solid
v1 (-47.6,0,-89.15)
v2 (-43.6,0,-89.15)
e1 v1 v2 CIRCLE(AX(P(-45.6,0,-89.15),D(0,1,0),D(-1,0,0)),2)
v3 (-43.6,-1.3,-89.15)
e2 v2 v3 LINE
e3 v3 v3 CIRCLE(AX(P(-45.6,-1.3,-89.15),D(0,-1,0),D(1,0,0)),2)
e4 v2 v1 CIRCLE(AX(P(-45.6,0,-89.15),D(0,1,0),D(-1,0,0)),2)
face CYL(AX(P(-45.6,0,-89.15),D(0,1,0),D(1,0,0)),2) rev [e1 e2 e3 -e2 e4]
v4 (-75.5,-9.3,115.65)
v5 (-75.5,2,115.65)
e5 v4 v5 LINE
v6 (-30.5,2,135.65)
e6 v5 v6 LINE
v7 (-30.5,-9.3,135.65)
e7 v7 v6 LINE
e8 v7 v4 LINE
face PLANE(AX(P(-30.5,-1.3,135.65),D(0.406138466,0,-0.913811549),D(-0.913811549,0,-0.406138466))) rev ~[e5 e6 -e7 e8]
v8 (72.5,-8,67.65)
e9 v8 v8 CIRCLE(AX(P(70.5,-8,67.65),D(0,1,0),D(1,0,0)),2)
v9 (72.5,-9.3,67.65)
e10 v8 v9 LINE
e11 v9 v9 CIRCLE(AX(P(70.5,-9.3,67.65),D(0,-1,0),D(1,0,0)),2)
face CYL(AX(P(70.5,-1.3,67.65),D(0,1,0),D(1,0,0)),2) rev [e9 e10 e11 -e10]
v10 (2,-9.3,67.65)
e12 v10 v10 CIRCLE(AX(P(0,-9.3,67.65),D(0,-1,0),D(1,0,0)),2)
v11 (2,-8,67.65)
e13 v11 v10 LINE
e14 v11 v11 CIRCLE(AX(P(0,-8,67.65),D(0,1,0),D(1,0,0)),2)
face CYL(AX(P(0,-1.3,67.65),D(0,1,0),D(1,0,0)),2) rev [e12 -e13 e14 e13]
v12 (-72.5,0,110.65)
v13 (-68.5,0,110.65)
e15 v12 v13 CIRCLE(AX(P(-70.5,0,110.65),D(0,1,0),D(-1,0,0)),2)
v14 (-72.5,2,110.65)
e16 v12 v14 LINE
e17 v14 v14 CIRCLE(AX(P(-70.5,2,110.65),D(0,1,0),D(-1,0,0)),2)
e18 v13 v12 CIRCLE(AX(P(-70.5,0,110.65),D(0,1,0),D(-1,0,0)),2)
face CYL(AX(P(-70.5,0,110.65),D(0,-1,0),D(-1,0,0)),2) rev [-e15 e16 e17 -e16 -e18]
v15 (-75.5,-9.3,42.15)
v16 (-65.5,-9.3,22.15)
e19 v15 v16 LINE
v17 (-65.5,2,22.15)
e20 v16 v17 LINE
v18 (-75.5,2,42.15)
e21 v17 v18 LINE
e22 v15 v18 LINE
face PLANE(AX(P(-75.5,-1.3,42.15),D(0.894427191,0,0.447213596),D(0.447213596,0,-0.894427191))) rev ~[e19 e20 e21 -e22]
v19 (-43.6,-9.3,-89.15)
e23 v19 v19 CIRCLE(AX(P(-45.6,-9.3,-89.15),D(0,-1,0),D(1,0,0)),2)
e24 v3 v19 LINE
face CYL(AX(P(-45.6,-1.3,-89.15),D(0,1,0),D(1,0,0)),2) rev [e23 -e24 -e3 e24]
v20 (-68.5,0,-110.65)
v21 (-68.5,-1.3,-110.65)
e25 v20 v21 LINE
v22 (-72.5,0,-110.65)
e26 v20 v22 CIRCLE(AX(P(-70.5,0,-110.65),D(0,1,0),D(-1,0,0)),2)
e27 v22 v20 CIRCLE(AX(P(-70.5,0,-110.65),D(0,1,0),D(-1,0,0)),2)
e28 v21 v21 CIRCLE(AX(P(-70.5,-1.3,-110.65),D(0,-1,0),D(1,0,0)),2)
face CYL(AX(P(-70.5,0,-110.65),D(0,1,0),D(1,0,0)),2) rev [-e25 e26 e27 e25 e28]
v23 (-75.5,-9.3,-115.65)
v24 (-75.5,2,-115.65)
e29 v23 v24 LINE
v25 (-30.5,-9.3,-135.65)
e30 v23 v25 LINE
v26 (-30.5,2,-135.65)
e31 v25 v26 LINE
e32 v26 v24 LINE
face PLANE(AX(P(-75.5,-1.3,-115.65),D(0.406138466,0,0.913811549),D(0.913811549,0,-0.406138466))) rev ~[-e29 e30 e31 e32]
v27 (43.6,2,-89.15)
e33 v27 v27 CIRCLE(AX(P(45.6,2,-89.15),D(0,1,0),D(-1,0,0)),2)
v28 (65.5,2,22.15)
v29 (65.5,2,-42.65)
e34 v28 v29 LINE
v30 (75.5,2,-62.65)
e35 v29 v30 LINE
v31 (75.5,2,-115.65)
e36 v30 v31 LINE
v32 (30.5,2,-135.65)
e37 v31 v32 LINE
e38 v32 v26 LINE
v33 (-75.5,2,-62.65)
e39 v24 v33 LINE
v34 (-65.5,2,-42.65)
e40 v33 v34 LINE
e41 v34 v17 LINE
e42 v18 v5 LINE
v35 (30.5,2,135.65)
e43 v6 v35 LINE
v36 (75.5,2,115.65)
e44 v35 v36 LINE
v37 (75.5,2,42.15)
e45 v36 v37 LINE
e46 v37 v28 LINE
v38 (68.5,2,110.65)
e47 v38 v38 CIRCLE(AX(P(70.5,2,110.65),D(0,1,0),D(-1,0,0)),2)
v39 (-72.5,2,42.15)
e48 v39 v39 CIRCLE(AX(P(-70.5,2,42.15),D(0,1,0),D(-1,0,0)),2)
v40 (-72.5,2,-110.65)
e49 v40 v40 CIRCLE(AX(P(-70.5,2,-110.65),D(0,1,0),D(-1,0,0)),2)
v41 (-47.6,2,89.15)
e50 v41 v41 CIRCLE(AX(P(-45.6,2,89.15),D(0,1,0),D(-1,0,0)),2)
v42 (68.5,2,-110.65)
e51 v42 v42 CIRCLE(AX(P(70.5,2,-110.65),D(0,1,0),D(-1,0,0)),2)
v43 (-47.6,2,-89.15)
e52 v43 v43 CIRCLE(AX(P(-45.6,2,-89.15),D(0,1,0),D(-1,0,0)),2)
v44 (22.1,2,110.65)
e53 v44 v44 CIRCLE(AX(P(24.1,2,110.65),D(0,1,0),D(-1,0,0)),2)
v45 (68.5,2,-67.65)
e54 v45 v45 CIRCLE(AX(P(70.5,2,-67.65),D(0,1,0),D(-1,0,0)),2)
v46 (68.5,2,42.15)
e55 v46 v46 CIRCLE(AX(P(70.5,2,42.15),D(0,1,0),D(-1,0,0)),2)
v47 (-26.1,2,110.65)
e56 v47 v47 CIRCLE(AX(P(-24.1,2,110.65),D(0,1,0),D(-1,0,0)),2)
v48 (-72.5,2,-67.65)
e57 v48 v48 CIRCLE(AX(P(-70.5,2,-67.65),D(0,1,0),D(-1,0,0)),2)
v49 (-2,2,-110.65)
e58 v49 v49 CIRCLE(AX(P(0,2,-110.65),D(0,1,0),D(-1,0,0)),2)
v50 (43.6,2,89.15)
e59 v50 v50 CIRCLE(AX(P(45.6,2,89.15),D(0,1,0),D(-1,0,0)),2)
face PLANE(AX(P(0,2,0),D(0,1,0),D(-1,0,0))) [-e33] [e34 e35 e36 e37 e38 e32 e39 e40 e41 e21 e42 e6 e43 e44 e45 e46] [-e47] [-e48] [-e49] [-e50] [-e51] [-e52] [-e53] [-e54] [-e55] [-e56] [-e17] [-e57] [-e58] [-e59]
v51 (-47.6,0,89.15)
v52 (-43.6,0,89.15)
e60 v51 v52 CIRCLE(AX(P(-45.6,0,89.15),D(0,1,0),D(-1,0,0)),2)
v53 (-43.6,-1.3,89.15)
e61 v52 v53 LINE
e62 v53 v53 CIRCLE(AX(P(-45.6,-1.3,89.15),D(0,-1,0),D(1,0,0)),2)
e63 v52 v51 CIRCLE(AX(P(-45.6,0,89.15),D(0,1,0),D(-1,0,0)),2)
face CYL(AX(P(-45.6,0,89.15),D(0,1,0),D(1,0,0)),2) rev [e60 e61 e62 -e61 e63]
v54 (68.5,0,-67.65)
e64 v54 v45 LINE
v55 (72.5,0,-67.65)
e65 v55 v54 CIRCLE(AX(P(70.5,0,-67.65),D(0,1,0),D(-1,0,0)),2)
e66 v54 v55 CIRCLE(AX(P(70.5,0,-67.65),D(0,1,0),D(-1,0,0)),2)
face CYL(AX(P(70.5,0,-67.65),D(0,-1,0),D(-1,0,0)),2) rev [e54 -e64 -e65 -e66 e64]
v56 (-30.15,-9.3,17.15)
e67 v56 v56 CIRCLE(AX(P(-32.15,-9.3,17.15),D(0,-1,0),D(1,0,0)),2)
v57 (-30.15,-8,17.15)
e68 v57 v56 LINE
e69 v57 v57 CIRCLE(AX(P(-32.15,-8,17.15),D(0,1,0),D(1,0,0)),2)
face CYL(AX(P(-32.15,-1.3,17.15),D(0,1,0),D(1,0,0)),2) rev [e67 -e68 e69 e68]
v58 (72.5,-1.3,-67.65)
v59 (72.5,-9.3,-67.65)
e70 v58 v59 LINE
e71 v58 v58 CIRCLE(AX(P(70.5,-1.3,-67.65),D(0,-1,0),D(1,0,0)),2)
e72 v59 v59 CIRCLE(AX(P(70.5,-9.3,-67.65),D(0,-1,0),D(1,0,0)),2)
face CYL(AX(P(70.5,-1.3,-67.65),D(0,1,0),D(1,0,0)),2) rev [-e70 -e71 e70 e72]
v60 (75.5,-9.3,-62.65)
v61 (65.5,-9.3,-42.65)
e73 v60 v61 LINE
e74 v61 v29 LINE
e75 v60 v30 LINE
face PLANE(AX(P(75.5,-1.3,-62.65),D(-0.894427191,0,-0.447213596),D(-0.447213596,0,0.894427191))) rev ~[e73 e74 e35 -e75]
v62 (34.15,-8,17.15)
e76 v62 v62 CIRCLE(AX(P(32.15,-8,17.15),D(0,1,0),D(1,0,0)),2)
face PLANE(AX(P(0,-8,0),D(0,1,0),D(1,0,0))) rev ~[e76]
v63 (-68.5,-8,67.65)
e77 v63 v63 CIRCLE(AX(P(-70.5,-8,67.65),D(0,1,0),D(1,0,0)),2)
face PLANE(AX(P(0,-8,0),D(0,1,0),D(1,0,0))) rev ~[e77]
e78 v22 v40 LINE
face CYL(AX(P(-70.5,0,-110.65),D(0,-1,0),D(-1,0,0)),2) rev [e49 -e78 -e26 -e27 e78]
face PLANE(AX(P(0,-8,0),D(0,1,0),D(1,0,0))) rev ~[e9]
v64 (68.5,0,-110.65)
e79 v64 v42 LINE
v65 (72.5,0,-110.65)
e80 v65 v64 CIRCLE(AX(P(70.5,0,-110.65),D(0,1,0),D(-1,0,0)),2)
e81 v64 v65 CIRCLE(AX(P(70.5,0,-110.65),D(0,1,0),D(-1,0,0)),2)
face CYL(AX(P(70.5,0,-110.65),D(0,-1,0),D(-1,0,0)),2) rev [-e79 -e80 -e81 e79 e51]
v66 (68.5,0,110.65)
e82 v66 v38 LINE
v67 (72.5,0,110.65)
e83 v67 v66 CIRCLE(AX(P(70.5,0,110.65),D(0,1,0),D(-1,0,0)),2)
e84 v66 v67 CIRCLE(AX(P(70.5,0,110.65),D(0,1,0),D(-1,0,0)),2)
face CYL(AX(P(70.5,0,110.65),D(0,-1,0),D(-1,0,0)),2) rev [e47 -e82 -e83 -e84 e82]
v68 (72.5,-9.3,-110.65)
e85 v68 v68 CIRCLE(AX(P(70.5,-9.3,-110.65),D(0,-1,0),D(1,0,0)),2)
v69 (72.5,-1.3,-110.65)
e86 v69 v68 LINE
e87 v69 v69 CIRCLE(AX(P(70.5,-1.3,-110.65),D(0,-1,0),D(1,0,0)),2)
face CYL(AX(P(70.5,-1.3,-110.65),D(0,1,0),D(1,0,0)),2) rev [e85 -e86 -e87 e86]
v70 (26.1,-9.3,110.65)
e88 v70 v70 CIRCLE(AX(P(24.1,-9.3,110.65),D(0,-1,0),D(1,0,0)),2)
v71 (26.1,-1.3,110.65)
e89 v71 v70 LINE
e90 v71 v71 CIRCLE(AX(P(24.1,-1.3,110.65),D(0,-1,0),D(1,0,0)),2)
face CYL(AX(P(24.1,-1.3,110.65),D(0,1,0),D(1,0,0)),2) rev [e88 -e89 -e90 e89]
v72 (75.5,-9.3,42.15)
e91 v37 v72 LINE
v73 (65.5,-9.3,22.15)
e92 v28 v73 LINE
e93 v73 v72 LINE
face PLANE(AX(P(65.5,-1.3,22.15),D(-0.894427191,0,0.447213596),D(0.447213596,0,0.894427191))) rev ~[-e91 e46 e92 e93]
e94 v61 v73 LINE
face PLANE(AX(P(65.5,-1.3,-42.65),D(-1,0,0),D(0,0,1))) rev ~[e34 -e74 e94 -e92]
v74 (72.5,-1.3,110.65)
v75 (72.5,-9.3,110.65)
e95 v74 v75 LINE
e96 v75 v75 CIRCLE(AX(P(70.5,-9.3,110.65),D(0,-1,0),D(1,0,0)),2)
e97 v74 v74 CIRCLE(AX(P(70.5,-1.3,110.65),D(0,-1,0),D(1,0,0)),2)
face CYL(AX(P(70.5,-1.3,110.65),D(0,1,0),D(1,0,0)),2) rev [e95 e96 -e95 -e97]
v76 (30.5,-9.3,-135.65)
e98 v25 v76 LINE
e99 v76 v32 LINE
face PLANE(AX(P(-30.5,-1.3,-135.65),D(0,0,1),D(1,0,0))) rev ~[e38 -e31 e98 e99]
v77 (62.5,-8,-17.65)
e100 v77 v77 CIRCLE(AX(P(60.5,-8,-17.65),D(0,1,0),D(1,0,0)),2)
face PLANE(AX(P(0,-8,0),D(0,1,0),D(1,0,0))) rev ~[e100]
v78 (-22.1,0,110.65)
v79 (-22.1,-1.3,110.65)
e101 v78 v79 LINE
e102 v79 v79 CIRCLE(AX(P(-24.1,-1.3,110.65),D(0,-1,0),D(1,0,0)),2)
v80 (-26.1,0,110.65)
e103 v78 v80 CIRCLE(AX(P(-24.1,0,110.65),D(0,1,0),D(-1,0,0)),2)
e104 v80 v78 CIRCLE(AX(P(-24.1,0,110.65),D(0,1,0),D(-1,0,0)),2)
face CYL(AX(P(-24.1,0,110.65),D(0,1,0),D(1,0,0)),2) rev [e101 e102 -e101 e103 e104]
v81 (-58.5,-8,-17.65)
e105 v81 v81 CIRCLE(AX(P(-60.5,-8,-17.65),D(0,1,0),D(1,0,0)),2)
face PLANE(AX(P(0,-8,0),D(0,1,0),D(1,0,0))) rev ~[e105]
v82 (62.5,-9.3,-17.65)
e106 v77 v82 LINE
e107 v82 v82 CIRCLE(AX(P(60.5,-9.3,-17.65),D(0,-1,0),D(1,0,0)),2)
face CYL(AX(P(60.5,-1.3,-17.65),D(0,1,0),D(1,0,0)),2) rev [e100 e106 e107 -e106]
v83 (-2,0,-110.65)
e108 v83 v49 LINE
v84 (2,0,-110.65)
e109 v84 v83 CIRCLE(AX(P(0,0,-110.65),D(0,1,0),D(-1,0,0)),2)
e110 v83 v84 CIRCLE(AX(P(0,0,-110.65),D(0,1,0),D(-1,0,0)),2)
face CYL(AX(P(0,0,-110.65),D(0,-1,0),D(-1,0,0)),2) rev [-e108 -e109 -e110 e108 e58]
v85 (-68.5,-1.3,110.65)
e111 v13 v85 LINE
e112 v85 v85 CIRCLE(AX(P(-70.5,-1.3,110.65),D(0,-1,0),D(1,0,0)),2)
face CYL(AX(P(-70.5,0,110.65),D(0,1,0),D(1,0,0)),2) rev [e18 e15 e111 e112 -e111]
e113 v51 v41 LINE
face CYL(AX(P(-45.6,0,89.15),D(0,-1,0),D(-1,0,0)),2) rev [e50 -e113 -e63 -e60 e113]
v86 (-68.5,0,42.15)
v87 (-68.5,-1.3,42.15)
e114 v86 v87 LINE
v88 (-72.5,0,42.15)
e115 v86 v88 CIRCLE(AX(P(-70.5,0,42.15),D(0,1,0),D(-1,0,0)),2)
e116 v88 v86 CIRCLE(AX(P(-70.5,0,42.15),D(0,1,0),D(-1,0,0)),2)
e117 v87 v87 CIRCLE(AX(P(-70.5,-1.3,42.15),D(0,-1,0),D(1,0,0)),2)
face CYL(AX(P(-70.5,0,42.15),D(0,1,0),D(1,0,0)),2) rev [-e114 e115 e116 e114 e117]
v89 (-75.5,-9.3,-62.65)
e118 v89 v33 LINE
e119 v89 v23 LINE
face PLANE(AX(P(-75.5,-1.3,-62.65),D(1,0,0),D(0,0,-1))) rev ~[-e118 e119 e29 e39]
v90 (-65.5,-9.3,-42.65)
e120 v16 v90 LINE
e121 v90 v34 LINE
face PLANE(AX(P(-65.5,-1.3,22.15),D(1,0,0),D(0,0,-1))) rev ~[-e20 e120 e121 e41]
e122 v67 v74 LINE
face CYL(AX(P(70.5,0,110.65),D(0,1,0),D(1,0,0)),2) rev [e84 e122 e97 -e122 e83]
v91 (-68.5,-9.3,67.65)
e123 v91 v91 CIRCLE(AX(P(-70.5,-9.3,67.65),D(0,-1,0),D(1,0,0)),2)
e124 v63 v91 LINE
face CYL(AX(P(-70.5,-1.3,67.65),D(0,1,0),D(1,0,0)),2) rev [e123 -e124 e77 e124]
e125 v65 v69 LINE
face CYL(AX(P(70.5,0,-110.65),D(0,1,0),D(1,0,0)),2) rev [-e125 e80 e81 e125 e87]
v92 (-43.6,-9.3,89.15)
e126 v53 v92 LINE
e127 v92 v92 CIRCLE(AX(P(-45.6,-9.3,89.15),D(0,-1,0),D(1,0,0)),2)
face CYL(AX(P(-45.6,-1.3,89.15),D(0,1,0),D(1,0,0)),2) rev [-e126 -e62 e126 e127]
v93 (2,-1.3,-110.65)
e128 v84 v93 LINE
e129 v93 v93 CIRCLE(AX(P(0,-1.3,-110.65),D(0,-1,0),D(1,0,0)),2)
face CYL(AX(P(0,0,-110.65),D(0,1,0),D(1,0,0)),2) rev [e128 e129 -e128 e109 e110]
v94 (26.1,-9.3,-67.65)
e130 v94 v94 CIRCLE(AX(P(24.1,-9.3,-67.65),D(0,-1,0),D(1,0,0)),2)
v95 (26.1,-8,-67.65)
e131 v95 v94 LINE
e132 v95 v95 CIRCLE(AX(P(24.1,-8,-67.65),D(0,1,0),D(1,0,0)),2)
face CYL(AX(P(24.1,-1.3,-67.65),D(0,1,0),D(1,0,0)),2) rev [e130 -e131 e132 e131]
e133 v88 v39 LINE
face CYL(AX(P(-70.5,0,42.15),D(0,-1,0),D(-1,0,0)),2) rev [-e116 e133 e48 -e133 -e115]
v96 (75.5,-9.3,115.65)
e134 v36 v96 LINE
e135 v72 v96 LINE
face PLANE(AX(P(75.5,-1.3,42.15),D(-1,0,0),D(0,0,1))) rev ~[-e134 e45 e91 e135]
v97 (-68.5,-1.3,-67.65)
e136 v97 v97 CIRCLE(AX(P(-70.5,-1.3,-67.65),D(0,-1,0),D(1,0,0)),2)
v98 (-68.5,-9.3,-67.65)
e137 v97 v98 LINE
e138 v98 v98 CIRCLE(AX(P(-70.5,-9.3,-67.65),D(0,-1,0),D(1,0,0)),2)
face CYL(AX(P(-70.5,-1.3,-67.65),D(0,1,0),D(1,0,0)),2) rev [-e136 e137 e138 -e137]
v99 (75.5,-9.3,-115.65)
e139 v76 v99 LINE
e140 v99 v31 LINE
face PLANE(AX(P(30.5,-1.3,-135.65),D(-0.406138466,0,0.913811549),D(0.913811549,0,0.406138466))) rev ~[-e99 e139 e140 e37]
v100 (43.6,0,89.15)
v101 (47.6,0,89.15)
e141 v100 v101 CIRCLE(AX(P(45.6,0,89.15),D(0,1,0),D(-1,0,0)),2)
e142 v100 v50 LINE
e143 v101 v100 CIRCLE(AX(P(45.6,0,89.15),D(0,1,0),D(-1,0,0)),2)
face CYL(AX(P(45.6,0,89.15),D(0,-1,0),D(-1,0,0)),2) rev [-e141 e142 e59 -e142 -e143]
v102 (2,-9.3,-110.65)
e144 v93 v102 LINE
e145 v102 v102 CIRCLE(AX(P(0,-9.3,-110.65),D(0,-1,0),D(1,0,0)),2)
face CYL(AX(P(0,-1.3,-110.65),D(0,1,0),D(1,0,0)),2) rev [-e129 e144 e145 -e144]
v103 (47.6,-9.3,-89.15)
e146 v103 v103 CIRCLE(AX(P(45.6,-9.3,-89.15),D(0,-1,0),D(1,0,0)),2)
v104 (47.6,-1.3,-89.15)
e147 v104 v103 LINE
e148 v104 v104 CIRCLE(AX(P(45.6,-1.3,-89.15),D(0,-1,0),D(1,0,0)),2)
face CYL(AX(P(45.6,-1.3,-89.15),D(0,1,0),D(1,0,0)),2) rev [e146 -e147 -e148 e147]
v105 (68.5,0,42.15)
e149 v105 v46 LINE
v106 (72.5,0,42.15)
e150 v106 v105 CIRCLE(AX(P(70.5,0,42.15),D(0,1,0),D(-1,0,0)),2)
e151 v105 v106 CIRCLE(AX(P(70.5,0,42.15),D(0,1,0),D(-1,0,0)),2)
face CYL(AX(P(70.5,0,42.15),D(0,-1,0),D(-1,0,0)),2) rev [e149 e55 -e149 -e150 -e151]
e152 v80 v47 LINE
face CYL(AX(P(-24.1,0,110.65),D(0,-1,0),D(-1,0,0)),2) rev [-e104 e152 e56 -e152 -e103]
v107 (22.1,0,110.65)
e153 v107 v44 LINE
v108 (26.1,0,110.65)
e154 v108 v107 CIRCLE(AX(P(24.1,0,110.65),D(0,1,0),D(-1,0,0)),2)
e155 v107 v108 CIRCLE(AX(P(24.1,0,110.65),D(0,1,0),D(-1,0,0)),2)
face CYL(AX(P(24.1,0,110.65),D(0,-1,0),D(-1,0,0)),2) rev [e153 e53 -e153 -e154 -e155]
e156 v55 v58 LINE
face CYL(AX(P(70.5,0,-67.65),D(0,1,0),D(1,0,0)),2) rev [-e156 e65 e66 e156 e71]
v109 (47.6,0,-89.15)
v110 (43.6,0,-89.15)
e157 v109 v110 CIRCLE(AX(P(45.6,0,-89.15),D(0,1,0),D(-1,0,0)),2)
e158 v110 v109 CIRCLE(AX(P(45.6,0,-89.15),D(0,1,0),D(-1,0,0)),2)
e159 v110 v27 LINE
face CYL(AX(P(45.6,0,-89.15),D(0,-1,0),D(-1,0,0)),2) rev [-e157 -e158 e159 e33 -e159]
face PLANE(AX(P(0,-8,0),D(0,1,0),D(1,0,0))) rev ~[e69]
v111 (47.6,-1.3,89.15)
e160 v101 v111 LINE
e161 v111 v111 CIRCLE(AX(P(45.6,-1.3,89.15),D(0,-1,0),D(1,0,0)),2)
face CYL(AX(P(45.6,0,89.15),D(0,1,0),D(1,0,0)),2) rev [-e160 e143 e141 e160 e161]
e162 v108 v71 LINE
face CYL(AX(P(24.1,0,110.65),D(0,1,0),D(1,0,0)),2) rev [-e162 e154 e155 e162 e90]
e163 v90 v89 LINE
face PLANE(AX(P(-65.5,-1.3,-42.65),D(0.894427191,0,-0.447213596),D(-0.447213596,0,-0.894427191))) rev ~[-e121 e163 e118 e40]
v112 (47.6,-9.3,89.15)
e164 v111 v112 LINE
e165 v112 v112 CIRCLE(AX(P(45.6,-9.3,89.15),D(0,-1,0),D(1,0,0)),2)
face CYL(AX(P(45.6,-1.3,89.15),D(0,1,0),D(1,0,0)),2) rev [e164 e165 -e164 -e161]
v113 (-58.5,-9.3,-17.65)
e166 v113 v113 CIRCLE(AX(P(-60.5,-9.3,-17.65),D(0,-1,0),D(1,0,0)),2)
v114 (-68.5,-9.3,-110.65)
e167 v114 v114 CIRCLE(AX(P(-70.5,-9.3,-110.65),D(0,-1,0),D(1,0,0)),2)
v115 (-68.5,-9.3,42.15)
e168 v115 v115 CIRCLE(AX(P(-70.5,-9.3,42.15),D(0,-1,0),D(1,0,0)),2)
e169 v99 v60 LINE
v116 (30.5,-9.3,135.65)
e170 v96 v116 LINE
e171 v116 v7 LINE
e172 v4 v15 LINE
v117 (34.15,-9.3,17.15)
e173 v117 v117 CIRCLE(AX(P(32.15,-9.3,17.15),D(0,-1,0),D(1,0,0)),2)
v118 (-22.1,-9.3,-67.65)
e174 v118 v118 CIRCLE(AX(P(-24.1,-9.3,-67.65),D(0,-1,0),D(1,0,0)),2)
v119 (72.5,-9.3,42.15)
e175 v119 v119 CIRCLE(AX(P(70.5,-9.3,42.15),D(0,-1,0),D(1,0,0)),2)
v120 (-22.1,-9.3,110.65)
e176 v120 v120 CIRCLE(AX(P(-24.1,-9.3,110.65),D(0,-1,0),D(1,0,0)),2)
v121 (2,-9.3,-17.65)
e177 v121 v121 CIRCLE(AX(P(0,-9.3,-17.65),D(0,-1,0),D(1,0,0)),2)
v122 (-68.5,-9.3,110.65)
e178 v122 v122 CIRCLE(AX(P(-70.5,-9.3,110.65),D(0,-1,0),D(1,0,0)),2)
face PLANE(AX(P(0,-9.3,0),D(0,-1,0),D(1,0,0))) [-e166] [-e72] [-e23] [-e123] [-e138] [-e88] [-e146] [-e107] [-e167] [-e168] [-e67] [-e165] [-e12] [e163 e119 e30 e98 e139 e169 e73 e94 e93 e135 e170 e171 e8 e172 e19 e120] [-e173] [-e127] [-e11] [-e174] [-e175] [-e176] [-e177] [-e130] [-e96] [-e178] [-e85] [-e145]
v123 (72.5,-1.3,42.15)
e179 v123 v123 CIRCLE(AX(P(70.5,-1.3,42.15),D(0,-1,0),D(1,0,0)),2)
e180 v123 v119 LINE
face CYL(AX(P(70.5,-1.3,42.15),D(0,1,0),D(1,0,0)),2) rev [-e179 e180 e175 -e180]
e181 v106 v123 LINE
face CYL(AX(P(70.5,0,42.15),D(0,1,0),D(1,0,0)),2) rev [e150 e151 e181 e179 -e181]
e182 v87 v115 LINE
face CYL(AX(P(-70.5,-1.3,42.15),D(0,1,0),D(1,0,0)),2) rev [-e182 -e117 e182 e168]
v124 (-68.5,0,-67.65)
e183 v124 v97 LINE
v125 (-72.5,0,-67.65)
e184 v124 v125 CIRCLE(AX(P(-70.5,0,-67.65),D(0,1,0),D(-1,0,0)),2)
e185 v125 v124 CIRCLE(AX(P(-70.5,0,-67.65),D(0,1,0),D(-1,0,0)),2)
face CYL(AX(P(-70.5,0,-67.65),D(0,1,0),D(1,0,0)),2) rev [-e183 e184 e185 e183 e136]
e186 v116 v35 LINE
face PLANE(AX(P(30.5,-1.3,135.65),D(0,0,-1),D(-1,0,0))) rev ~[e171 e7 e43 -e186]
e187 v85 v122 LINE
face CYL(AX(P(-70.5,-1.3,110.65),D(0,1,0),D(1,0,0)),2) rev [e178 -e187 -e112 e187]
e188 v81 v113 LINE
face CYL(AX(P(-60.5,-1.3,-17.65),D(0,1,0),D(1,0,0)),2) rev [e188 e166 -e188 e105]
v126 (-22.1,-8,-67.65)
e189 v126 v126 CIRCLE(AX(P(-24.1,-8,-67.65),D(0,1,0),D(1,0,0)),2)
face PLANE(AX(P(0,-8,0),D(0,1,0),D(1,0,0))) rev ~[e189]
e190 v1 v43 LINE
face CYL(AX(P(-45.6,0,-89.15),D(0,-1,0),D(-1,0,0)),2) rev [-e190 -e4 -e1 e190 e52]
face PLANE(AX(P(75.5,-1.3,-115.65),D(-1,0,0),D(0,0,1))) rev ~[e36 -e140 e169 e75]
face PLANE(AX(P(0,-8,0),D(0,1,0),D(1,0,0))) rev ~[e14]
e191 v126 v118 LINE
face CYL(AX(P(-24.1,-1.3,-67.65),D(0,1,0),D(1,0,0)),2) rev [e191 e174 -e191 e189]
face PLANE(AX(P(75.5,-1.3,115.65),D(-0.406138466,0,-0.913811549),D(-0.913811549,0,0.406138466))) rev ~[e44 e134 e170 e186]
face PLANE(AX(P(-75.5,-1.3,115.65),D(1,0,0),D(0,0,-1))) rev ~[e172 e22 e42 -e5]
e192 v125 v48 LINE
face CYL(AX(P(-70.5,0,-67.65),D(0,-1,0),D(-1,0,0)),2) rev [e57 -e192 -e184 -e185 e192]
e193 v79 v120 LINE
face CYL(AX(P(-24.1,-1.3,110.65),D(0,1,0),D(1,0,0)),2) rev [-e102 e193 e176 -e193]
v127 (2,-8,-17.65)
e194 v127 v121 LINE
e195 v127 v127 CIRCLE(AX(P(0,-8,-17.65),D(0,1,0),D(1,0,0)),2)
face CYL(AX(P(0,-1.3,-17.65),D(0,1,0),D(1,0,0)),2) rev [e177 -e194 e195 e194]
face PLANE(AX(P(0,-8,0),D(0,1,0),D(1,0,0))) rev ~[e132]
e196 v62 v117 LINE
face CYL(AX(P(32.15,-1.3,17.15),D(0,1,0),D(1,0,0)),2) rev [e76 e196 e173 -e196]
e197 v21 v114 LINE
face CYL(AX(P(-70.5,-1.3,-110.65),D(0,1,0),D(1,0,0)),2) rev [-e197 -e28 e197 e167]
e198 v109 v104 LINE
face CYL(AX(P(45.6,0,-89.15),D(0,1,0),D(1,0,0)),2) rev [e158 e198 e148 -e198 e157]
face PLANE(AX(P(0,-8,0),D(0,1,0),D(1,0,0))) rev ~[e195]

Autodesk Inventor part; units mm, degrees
ref_plane "YZ Plane" through (0, 0, 0) normal (1, 0, 0) x (0, 1, 0)
ref_plane "XZ Plane" through (0, 0, 0) normal (0, 1, 0) x (-1, 0, 0)
ref_plane "XY Plane" through (0, 0, 0) normal (0, 0, 1) x (1, 0, 0)
sketch "Sketch1" plane through (0, 0, 0) normal (0, 1, 0) x (-1, 0, 0)
  circle A0 centre (24.1, 110.65) radius 0.25
  circle A1 centre (-70.5, 110.65) radius 0.25
  circle A2 centre (-45.6, 89.15) radius 0.25
  circle A3 centre (0, 67.65) radius 0.25
  circle A4 centre (70.5, 42.15) radius 0.25
  circle A5 centre (32.15, 17.15) radius 0.25
  circle A6 centre (60.5, -17.65) radius 0.25
  circle A7 centre (-60.5, -17.65) radius 0.25
  circle A8 centre (24.1, -67.65) radius 0.25
  circle A9 centre (-70.5, -67.65) radius 0.25
  circle A10 centre (-45.6, -89.15) radius 0.25
  circle A11 centre (0, -110.65) radius 0.25
  circle A12 centre (-70.5, -110.65) radius 0.25
  circle A13 centre (70.5, -110.65) radius 0.25
  circle A14 centre (45.6, -89.15) radius 0.25
  circle A15 centre (-24.1, -67.65) radius 0.25
  circle A16 centre (70.5, -67.65) radius 0.25
  circle A17 centre (0, -17.65) radius 0.25
  circle A18 centre (-32.15, 17.15) radius 0.25
  circle A19 centre (-70.5, 42.15) radius 0.25
  circle A20 centre (-70.5, 67.65) radius 0.25
  circle A21 centre (70.5, 67.65) radius 0.25
  circle A22 centre (45.6, 89.15) radius 0.25
  circle A23 centre (-24.1, 110.65) radius 0.25
  circle A24 centre (70.5, 110.65) radius 0.25
  line L0 (75.5, -115.65) -> (75.5, -62.65)
  line L1 (75.5, -62.65) -> (65.5, -42.65)
  line L2 (65.5, -42.65) -> (65.5, 22.15)
  line L3 (65.5, 22.15) -> (75.5, 42.15)
  line L4 (75.5, 42.15) -> (75.5, 115.65)
  line L5 (75.5, 115.65) -> (30.5, 135.65)
  line L6 (30.5, 135.65) -> (-30.5, 135.65)
  line L7 (-30.5, 135.65) -> (-75.5, 115.65)
  line L8 (-75.5, 115.65) -> (-75.5, 42.15)
  line L9 (-75.5, 42.15) -> (-65.5, 22.15)
  line L10 (-65.5, 22.15) -> (-65.5, -42.65)
  line L11 (-65.5, -42.65) -> (-75.5, -62.65)
  line L12 (-75.5, -62.65) -> (-75.5, -115.65)
  line L13 (-75.5, -115.65) -> (-30.5, -135.65)
  line L14 (-30.5, -135.65) -> (30.5, -135.65)
  line L15 (30.5, -135.65) -> (75.5, -115.65)
  circle A25 centre (0, -110.65) radius 2
  circle A26 centre (70.5, -110.65) radius 2
  circle A27 centre (-70.5, -110.65) radius 2
  circle A28 centre (45.6, -89.15) radius 2
  circle A29 centre (-45.6, -89.15) radius 2
  circle A30 centre (70.5, -67.65) radius 2
  circle A31 centre (24.1, -67.65) radius 2
  circle A32 centre (-24.1, -67.65) radius 2
  circle A33 centre (-70.5, -67.65) radius 2
  circle A34 centre (60.5, -17.65) radius 2
  circle A35 centre (0, -17.65) radius 2
  circle A36 centre (-32.15, 17.15) radius 2
  circle A37 centre (-60.5, -17.65) radius 2
  circle A38 centre (32.15, 17.15) radius 2
  circle A39 centre (70.5, 42.15) radius 2
  circle A40 centre (-70.5, 42.15) radius 2
  circle A41 centre (-70.5, 67.65) radius 2
  circle A42 centre (0, 67.65) radius 2
  circle A43 centre (70.5, 67.65) radius 2
  circle A44 centre (45.6, 89.15) radius 2
  circle A45 centre (-45.6, 89.15) radius 2
  circle A46 centre (-70.5, 110.65) radius 2
  circle A47 centre (-24.1, 110.65) radius 2
  circle A48 centre (24.1, 110.65) radius 2
  circle A49 centre (70.5, 110.65) radius 2
  point P0 (0, 0)
  point P1 (0, 0)
  dimension "d0" = 4
  dimension "d1" = 4
  dimension "d2" = 4
  dimension "d3" = 4
  dimension "d4" = 4
  dimension "d5" = 4
  dimension "d6" = 4
  dimension "d7" = 4
  dimension "d8" = 4
  dimension "d9" = 4
  dimension "d10" = 4
  dimension "d11" = 4
  dimension "d12" = 4
  dimension "d13" = 4
  dimension "d14" = 4
  dimension "d15" = 4
  dimension "d16" = 4
  dimension "d17" = 4
  dimension "d18" = 4
  dimension "d19" = 4
  dimension "d20" = 4
  dimension "d21" = 4
  dimension "d22" = 4
  dimension "d23" = 4
  dimension "d24" = 4
extrude "Extrusion1" add sketch "Sketch1" along normal blind 2 contours L15 L14 L13 L12 L11 L10 L9 L8 L7 L6 L5 L4 L3 L2 L1 L0
sketch "Sketch2" plane through (0, 0, 0) normal (0, -1, 0) x (1, 0, 0)
  circle A0 centre (-70.5, 110.65) radius 2 projected
  circle A1 centre (-24.1, 110.65) radius 2 projected
  circle A2 centre (24.1, 110.65) radius 2 projected
  circle A3 centre (70.5, 110.65) radius 2 projected
  circle A4 centre (45.6, 89.15) radius 2 projected
  circle A5 centre (-45.6, 89.15) radius 2 projected
  circle A6 centre (-70.5, 67.65) radius 2 projected
  circle A7 centre (0, 67.65) radius 2 projected
  circle A8 centre (70.5, 67.65) radius 2 projected
  circle A9 centre (70.5, 42.15) radius 2 projected
  circle A10 centre (-70.5, 42.15) radius 2 projected
  circle A11 centre (-32.15, 17.15) radius 2 projected
  circle A12 centre (60.5, -17.65) radius 2 projected
  circle A13 centre (32.15, 17.15) radius 2 projected
  circle A14 centre (0, -17.65) radius 2 projected
  circle A15 centre (-60.5, -17.65) radius 2 projected
  circle A16 centre (70.5, -67.65) radius 2 projected
  circle A17 centre (24.1, -67.65) radius 2 projected
  circle A18 centre (-24.1, -67.65) radius 2 projected
  circle A19 centre (-70.5, -67.65) radius 2 projected
  circle A20 centre (45.6, -89.15) radius 2 projected
  circle A21 centre (-45.6, -89.15) radius 2 projected
  circle A22 centre (70.5, -110.65) radius 2 projected
  circle A23 centre (-70.5, -110.65) radius 2 projected
  circle A24 centre (0, -110.65) radius 2 projected
  line L0 (65.5, 22.15) -> (75.5, 42.15) projected
  line L1 (75.5, 42.15) -> (75.5, 115.65) projected
  line L2 (75.5, 115.65) -> (30.5, 135.65) projected
  line L3 (30.5, 135.65) -> (-30.5, 135.65) projected
  line L4 (-30.5, 135.65) -> (-75.5, 115.65) projected
  line L5 (-75.5, 115.65) -> (-75.5, 42.15) projected
  line L6 (-75.5, 42.15) -> (-65.5, 22.15) projected
  line L7 (-65.5, 22.15) -> (-65.5, -42.65) projected
  line L8 (-65.5, -42.65) -> (-75.5, -62.65) projected
  line L9 (-75.5, -62.65) -> (-75.5, -115.65) projected
  line L10 (-75.5, -115.65) -> (-30.5, -135.65) projected
  line L11 (-30.5, -135.65) -> (30.5, -135.65) projected
  line L12 (30.5, -135.65) -> (75.5, -115.65) projected
  line L13 (75.5, -115.65) -> (75.5, -62.65) projected
  line L14 (75.5, -62.65) -> (65.5, -42.65) projected
  line L15 (65.5, -42.65) -> (65.5, 22.15) projected
  point P0 (0, 0)
extrude "Extrusion2" add sketch "Sketch2" along normal blind 1.3
sketch "Sketch3" plane through (0, -1.3, 0) normal (0, -1, 0) x (1, 0, 0)
  circle A0 centre (0, -110.65) radius 2 projected
  circle A1 centre (-70.5, -110.65) radius 2 projected
  circle A2 centre (70.5, -110.65) radius 2 projected
  circle A3 centre (-45.6, -89.15) radius 2 projected
  circle A4 centre (45.6, -89.15) radius 2 projected
  circle A5 centre (-70.5, -67.65) radius 2 projected
  circle A6 centre (-24.1, -67.65) radius 2 projected
  circle A7 centre (24.1, -67.65) radius 2 projected
  circle A8 centre (70.5, -67.65) radius 2 projected
  circle A9 centre (-60.5, -17.65) radius 2 projected
  circle A10 centre (0, -17.65) radius 2 projected
  circle A11 centre (32.15, 17.15) radius 2 projected
  circle A12 centre (60.5, -17.65) radius 2 projected
  circle A13 centre (-32.15, 17.15) radius 2 projected
  circle A14 centre (-70.5, 42.15) radius 2 projected
  circle A15 centre (70.5, 42.15) radius 2 projected
  circle A16 centre (70.5, 67.65) radius 2 projected
  circle A17 centre (0, 67.65) radius 2 projected
  circle A18 centre (-70.5, 67.65) radius 2 projected
  circle A19 centre (-45.6, 89.15) radius 2 projected
  circle A20 centre (45.6, 89.15) radius 2 projected
  circle A21 centre (70.5, 110.65) radius 2 projected
  circle A22 centre (24.1, 110.65) radius 2 projected
  circle A23 centre (-24.1, 110.65) radius 2 projected
  circle A24 centre (-70.5, 110.65) radius 2 projected
  line L0 (65.5, 22.15) -> (75.5, 42.15) projected
  line L1 (75.5, 42.15) -> (75.5, 115.65) projected
  line L2 (75.5, 115.65) -> (30.5, 135.65) projected
  line L3 (30.5, 135.65) -> (-30.5, 135.65) projected
  line L4 (-30.5, 135.65) -> (-75.5, 115.65) projected
  line L5 (-75.5, 115.65) -> (-75.5, 42.15) projected
  line L6 (-75.5, 42.15) -> (-65.5, 22.15) projected
  line L7 (-65.5, 22.15) -> (-65.5, -42.65) projected
  line L8 (-65.5, -42.65) -> (-75.5, -62.65) projected
  line L9 (-75.5, -62.65) -> (-75.5, -115.65) projected
  line L10 (-75.5, -115.65) -> (-30.5, -135.65) projected
  line L11 (-30.5, -135.65) -> (30.5, -135.65) projected
  line L12 (30.5, -135.65) -> (75.5, -115.65) projected
  line L13 (75.5, -115.65) -> (75.5, -62.65) projected
  line L14 (75.5, -62.65) -> (65.5, -42.65) projected
  line L15 (65.5, -42.65) -> (65.5, 22.15) projected
  point P0 (0, 0)
extrude "Extrusion3" add sketch "Sketch3" along normal blind 8
sketch "Sketch4" plane through (0, 2, 0) normal (0, 1, 0) x (1, 0, 0)
  circle A0 centre (-32.15, -17.15) radius 2 projected
  circle A1 centre (60.5, 17.65) radius 2 projected
  circle A2 centre (32.15, -17.15) radius 2 projected
  circle A3 centre (0, 17.65) radius 2 projected
  circle A4 centre (-60.5, 17.65) radius 2 projected
  point P0 (0, 0)
extrude "Extrusion4" add sketch "Sketch4" against normal blind 10
sketch "Sketch5" plane through (0, 2, 0) normal (0, 1, 0) x (1, 0, 0)
  circle A0 centre (-70.5, -67.65) radius 2 projected
  circle A1 centre (0, -67.65) radius 2 projected
  circle A2 centre (70.5, -67.65) radius 2 projected
  circle A3 centre (24.1, 67.65) radius 2 projected
  circle A4 centre (-24.1, 67.65) radius 2 projected
  point P0 (0, 0)
extrude "Extrusion5" add sketch "Sketch5" against normal blind 10
properties part number "podvozek_komatex"
